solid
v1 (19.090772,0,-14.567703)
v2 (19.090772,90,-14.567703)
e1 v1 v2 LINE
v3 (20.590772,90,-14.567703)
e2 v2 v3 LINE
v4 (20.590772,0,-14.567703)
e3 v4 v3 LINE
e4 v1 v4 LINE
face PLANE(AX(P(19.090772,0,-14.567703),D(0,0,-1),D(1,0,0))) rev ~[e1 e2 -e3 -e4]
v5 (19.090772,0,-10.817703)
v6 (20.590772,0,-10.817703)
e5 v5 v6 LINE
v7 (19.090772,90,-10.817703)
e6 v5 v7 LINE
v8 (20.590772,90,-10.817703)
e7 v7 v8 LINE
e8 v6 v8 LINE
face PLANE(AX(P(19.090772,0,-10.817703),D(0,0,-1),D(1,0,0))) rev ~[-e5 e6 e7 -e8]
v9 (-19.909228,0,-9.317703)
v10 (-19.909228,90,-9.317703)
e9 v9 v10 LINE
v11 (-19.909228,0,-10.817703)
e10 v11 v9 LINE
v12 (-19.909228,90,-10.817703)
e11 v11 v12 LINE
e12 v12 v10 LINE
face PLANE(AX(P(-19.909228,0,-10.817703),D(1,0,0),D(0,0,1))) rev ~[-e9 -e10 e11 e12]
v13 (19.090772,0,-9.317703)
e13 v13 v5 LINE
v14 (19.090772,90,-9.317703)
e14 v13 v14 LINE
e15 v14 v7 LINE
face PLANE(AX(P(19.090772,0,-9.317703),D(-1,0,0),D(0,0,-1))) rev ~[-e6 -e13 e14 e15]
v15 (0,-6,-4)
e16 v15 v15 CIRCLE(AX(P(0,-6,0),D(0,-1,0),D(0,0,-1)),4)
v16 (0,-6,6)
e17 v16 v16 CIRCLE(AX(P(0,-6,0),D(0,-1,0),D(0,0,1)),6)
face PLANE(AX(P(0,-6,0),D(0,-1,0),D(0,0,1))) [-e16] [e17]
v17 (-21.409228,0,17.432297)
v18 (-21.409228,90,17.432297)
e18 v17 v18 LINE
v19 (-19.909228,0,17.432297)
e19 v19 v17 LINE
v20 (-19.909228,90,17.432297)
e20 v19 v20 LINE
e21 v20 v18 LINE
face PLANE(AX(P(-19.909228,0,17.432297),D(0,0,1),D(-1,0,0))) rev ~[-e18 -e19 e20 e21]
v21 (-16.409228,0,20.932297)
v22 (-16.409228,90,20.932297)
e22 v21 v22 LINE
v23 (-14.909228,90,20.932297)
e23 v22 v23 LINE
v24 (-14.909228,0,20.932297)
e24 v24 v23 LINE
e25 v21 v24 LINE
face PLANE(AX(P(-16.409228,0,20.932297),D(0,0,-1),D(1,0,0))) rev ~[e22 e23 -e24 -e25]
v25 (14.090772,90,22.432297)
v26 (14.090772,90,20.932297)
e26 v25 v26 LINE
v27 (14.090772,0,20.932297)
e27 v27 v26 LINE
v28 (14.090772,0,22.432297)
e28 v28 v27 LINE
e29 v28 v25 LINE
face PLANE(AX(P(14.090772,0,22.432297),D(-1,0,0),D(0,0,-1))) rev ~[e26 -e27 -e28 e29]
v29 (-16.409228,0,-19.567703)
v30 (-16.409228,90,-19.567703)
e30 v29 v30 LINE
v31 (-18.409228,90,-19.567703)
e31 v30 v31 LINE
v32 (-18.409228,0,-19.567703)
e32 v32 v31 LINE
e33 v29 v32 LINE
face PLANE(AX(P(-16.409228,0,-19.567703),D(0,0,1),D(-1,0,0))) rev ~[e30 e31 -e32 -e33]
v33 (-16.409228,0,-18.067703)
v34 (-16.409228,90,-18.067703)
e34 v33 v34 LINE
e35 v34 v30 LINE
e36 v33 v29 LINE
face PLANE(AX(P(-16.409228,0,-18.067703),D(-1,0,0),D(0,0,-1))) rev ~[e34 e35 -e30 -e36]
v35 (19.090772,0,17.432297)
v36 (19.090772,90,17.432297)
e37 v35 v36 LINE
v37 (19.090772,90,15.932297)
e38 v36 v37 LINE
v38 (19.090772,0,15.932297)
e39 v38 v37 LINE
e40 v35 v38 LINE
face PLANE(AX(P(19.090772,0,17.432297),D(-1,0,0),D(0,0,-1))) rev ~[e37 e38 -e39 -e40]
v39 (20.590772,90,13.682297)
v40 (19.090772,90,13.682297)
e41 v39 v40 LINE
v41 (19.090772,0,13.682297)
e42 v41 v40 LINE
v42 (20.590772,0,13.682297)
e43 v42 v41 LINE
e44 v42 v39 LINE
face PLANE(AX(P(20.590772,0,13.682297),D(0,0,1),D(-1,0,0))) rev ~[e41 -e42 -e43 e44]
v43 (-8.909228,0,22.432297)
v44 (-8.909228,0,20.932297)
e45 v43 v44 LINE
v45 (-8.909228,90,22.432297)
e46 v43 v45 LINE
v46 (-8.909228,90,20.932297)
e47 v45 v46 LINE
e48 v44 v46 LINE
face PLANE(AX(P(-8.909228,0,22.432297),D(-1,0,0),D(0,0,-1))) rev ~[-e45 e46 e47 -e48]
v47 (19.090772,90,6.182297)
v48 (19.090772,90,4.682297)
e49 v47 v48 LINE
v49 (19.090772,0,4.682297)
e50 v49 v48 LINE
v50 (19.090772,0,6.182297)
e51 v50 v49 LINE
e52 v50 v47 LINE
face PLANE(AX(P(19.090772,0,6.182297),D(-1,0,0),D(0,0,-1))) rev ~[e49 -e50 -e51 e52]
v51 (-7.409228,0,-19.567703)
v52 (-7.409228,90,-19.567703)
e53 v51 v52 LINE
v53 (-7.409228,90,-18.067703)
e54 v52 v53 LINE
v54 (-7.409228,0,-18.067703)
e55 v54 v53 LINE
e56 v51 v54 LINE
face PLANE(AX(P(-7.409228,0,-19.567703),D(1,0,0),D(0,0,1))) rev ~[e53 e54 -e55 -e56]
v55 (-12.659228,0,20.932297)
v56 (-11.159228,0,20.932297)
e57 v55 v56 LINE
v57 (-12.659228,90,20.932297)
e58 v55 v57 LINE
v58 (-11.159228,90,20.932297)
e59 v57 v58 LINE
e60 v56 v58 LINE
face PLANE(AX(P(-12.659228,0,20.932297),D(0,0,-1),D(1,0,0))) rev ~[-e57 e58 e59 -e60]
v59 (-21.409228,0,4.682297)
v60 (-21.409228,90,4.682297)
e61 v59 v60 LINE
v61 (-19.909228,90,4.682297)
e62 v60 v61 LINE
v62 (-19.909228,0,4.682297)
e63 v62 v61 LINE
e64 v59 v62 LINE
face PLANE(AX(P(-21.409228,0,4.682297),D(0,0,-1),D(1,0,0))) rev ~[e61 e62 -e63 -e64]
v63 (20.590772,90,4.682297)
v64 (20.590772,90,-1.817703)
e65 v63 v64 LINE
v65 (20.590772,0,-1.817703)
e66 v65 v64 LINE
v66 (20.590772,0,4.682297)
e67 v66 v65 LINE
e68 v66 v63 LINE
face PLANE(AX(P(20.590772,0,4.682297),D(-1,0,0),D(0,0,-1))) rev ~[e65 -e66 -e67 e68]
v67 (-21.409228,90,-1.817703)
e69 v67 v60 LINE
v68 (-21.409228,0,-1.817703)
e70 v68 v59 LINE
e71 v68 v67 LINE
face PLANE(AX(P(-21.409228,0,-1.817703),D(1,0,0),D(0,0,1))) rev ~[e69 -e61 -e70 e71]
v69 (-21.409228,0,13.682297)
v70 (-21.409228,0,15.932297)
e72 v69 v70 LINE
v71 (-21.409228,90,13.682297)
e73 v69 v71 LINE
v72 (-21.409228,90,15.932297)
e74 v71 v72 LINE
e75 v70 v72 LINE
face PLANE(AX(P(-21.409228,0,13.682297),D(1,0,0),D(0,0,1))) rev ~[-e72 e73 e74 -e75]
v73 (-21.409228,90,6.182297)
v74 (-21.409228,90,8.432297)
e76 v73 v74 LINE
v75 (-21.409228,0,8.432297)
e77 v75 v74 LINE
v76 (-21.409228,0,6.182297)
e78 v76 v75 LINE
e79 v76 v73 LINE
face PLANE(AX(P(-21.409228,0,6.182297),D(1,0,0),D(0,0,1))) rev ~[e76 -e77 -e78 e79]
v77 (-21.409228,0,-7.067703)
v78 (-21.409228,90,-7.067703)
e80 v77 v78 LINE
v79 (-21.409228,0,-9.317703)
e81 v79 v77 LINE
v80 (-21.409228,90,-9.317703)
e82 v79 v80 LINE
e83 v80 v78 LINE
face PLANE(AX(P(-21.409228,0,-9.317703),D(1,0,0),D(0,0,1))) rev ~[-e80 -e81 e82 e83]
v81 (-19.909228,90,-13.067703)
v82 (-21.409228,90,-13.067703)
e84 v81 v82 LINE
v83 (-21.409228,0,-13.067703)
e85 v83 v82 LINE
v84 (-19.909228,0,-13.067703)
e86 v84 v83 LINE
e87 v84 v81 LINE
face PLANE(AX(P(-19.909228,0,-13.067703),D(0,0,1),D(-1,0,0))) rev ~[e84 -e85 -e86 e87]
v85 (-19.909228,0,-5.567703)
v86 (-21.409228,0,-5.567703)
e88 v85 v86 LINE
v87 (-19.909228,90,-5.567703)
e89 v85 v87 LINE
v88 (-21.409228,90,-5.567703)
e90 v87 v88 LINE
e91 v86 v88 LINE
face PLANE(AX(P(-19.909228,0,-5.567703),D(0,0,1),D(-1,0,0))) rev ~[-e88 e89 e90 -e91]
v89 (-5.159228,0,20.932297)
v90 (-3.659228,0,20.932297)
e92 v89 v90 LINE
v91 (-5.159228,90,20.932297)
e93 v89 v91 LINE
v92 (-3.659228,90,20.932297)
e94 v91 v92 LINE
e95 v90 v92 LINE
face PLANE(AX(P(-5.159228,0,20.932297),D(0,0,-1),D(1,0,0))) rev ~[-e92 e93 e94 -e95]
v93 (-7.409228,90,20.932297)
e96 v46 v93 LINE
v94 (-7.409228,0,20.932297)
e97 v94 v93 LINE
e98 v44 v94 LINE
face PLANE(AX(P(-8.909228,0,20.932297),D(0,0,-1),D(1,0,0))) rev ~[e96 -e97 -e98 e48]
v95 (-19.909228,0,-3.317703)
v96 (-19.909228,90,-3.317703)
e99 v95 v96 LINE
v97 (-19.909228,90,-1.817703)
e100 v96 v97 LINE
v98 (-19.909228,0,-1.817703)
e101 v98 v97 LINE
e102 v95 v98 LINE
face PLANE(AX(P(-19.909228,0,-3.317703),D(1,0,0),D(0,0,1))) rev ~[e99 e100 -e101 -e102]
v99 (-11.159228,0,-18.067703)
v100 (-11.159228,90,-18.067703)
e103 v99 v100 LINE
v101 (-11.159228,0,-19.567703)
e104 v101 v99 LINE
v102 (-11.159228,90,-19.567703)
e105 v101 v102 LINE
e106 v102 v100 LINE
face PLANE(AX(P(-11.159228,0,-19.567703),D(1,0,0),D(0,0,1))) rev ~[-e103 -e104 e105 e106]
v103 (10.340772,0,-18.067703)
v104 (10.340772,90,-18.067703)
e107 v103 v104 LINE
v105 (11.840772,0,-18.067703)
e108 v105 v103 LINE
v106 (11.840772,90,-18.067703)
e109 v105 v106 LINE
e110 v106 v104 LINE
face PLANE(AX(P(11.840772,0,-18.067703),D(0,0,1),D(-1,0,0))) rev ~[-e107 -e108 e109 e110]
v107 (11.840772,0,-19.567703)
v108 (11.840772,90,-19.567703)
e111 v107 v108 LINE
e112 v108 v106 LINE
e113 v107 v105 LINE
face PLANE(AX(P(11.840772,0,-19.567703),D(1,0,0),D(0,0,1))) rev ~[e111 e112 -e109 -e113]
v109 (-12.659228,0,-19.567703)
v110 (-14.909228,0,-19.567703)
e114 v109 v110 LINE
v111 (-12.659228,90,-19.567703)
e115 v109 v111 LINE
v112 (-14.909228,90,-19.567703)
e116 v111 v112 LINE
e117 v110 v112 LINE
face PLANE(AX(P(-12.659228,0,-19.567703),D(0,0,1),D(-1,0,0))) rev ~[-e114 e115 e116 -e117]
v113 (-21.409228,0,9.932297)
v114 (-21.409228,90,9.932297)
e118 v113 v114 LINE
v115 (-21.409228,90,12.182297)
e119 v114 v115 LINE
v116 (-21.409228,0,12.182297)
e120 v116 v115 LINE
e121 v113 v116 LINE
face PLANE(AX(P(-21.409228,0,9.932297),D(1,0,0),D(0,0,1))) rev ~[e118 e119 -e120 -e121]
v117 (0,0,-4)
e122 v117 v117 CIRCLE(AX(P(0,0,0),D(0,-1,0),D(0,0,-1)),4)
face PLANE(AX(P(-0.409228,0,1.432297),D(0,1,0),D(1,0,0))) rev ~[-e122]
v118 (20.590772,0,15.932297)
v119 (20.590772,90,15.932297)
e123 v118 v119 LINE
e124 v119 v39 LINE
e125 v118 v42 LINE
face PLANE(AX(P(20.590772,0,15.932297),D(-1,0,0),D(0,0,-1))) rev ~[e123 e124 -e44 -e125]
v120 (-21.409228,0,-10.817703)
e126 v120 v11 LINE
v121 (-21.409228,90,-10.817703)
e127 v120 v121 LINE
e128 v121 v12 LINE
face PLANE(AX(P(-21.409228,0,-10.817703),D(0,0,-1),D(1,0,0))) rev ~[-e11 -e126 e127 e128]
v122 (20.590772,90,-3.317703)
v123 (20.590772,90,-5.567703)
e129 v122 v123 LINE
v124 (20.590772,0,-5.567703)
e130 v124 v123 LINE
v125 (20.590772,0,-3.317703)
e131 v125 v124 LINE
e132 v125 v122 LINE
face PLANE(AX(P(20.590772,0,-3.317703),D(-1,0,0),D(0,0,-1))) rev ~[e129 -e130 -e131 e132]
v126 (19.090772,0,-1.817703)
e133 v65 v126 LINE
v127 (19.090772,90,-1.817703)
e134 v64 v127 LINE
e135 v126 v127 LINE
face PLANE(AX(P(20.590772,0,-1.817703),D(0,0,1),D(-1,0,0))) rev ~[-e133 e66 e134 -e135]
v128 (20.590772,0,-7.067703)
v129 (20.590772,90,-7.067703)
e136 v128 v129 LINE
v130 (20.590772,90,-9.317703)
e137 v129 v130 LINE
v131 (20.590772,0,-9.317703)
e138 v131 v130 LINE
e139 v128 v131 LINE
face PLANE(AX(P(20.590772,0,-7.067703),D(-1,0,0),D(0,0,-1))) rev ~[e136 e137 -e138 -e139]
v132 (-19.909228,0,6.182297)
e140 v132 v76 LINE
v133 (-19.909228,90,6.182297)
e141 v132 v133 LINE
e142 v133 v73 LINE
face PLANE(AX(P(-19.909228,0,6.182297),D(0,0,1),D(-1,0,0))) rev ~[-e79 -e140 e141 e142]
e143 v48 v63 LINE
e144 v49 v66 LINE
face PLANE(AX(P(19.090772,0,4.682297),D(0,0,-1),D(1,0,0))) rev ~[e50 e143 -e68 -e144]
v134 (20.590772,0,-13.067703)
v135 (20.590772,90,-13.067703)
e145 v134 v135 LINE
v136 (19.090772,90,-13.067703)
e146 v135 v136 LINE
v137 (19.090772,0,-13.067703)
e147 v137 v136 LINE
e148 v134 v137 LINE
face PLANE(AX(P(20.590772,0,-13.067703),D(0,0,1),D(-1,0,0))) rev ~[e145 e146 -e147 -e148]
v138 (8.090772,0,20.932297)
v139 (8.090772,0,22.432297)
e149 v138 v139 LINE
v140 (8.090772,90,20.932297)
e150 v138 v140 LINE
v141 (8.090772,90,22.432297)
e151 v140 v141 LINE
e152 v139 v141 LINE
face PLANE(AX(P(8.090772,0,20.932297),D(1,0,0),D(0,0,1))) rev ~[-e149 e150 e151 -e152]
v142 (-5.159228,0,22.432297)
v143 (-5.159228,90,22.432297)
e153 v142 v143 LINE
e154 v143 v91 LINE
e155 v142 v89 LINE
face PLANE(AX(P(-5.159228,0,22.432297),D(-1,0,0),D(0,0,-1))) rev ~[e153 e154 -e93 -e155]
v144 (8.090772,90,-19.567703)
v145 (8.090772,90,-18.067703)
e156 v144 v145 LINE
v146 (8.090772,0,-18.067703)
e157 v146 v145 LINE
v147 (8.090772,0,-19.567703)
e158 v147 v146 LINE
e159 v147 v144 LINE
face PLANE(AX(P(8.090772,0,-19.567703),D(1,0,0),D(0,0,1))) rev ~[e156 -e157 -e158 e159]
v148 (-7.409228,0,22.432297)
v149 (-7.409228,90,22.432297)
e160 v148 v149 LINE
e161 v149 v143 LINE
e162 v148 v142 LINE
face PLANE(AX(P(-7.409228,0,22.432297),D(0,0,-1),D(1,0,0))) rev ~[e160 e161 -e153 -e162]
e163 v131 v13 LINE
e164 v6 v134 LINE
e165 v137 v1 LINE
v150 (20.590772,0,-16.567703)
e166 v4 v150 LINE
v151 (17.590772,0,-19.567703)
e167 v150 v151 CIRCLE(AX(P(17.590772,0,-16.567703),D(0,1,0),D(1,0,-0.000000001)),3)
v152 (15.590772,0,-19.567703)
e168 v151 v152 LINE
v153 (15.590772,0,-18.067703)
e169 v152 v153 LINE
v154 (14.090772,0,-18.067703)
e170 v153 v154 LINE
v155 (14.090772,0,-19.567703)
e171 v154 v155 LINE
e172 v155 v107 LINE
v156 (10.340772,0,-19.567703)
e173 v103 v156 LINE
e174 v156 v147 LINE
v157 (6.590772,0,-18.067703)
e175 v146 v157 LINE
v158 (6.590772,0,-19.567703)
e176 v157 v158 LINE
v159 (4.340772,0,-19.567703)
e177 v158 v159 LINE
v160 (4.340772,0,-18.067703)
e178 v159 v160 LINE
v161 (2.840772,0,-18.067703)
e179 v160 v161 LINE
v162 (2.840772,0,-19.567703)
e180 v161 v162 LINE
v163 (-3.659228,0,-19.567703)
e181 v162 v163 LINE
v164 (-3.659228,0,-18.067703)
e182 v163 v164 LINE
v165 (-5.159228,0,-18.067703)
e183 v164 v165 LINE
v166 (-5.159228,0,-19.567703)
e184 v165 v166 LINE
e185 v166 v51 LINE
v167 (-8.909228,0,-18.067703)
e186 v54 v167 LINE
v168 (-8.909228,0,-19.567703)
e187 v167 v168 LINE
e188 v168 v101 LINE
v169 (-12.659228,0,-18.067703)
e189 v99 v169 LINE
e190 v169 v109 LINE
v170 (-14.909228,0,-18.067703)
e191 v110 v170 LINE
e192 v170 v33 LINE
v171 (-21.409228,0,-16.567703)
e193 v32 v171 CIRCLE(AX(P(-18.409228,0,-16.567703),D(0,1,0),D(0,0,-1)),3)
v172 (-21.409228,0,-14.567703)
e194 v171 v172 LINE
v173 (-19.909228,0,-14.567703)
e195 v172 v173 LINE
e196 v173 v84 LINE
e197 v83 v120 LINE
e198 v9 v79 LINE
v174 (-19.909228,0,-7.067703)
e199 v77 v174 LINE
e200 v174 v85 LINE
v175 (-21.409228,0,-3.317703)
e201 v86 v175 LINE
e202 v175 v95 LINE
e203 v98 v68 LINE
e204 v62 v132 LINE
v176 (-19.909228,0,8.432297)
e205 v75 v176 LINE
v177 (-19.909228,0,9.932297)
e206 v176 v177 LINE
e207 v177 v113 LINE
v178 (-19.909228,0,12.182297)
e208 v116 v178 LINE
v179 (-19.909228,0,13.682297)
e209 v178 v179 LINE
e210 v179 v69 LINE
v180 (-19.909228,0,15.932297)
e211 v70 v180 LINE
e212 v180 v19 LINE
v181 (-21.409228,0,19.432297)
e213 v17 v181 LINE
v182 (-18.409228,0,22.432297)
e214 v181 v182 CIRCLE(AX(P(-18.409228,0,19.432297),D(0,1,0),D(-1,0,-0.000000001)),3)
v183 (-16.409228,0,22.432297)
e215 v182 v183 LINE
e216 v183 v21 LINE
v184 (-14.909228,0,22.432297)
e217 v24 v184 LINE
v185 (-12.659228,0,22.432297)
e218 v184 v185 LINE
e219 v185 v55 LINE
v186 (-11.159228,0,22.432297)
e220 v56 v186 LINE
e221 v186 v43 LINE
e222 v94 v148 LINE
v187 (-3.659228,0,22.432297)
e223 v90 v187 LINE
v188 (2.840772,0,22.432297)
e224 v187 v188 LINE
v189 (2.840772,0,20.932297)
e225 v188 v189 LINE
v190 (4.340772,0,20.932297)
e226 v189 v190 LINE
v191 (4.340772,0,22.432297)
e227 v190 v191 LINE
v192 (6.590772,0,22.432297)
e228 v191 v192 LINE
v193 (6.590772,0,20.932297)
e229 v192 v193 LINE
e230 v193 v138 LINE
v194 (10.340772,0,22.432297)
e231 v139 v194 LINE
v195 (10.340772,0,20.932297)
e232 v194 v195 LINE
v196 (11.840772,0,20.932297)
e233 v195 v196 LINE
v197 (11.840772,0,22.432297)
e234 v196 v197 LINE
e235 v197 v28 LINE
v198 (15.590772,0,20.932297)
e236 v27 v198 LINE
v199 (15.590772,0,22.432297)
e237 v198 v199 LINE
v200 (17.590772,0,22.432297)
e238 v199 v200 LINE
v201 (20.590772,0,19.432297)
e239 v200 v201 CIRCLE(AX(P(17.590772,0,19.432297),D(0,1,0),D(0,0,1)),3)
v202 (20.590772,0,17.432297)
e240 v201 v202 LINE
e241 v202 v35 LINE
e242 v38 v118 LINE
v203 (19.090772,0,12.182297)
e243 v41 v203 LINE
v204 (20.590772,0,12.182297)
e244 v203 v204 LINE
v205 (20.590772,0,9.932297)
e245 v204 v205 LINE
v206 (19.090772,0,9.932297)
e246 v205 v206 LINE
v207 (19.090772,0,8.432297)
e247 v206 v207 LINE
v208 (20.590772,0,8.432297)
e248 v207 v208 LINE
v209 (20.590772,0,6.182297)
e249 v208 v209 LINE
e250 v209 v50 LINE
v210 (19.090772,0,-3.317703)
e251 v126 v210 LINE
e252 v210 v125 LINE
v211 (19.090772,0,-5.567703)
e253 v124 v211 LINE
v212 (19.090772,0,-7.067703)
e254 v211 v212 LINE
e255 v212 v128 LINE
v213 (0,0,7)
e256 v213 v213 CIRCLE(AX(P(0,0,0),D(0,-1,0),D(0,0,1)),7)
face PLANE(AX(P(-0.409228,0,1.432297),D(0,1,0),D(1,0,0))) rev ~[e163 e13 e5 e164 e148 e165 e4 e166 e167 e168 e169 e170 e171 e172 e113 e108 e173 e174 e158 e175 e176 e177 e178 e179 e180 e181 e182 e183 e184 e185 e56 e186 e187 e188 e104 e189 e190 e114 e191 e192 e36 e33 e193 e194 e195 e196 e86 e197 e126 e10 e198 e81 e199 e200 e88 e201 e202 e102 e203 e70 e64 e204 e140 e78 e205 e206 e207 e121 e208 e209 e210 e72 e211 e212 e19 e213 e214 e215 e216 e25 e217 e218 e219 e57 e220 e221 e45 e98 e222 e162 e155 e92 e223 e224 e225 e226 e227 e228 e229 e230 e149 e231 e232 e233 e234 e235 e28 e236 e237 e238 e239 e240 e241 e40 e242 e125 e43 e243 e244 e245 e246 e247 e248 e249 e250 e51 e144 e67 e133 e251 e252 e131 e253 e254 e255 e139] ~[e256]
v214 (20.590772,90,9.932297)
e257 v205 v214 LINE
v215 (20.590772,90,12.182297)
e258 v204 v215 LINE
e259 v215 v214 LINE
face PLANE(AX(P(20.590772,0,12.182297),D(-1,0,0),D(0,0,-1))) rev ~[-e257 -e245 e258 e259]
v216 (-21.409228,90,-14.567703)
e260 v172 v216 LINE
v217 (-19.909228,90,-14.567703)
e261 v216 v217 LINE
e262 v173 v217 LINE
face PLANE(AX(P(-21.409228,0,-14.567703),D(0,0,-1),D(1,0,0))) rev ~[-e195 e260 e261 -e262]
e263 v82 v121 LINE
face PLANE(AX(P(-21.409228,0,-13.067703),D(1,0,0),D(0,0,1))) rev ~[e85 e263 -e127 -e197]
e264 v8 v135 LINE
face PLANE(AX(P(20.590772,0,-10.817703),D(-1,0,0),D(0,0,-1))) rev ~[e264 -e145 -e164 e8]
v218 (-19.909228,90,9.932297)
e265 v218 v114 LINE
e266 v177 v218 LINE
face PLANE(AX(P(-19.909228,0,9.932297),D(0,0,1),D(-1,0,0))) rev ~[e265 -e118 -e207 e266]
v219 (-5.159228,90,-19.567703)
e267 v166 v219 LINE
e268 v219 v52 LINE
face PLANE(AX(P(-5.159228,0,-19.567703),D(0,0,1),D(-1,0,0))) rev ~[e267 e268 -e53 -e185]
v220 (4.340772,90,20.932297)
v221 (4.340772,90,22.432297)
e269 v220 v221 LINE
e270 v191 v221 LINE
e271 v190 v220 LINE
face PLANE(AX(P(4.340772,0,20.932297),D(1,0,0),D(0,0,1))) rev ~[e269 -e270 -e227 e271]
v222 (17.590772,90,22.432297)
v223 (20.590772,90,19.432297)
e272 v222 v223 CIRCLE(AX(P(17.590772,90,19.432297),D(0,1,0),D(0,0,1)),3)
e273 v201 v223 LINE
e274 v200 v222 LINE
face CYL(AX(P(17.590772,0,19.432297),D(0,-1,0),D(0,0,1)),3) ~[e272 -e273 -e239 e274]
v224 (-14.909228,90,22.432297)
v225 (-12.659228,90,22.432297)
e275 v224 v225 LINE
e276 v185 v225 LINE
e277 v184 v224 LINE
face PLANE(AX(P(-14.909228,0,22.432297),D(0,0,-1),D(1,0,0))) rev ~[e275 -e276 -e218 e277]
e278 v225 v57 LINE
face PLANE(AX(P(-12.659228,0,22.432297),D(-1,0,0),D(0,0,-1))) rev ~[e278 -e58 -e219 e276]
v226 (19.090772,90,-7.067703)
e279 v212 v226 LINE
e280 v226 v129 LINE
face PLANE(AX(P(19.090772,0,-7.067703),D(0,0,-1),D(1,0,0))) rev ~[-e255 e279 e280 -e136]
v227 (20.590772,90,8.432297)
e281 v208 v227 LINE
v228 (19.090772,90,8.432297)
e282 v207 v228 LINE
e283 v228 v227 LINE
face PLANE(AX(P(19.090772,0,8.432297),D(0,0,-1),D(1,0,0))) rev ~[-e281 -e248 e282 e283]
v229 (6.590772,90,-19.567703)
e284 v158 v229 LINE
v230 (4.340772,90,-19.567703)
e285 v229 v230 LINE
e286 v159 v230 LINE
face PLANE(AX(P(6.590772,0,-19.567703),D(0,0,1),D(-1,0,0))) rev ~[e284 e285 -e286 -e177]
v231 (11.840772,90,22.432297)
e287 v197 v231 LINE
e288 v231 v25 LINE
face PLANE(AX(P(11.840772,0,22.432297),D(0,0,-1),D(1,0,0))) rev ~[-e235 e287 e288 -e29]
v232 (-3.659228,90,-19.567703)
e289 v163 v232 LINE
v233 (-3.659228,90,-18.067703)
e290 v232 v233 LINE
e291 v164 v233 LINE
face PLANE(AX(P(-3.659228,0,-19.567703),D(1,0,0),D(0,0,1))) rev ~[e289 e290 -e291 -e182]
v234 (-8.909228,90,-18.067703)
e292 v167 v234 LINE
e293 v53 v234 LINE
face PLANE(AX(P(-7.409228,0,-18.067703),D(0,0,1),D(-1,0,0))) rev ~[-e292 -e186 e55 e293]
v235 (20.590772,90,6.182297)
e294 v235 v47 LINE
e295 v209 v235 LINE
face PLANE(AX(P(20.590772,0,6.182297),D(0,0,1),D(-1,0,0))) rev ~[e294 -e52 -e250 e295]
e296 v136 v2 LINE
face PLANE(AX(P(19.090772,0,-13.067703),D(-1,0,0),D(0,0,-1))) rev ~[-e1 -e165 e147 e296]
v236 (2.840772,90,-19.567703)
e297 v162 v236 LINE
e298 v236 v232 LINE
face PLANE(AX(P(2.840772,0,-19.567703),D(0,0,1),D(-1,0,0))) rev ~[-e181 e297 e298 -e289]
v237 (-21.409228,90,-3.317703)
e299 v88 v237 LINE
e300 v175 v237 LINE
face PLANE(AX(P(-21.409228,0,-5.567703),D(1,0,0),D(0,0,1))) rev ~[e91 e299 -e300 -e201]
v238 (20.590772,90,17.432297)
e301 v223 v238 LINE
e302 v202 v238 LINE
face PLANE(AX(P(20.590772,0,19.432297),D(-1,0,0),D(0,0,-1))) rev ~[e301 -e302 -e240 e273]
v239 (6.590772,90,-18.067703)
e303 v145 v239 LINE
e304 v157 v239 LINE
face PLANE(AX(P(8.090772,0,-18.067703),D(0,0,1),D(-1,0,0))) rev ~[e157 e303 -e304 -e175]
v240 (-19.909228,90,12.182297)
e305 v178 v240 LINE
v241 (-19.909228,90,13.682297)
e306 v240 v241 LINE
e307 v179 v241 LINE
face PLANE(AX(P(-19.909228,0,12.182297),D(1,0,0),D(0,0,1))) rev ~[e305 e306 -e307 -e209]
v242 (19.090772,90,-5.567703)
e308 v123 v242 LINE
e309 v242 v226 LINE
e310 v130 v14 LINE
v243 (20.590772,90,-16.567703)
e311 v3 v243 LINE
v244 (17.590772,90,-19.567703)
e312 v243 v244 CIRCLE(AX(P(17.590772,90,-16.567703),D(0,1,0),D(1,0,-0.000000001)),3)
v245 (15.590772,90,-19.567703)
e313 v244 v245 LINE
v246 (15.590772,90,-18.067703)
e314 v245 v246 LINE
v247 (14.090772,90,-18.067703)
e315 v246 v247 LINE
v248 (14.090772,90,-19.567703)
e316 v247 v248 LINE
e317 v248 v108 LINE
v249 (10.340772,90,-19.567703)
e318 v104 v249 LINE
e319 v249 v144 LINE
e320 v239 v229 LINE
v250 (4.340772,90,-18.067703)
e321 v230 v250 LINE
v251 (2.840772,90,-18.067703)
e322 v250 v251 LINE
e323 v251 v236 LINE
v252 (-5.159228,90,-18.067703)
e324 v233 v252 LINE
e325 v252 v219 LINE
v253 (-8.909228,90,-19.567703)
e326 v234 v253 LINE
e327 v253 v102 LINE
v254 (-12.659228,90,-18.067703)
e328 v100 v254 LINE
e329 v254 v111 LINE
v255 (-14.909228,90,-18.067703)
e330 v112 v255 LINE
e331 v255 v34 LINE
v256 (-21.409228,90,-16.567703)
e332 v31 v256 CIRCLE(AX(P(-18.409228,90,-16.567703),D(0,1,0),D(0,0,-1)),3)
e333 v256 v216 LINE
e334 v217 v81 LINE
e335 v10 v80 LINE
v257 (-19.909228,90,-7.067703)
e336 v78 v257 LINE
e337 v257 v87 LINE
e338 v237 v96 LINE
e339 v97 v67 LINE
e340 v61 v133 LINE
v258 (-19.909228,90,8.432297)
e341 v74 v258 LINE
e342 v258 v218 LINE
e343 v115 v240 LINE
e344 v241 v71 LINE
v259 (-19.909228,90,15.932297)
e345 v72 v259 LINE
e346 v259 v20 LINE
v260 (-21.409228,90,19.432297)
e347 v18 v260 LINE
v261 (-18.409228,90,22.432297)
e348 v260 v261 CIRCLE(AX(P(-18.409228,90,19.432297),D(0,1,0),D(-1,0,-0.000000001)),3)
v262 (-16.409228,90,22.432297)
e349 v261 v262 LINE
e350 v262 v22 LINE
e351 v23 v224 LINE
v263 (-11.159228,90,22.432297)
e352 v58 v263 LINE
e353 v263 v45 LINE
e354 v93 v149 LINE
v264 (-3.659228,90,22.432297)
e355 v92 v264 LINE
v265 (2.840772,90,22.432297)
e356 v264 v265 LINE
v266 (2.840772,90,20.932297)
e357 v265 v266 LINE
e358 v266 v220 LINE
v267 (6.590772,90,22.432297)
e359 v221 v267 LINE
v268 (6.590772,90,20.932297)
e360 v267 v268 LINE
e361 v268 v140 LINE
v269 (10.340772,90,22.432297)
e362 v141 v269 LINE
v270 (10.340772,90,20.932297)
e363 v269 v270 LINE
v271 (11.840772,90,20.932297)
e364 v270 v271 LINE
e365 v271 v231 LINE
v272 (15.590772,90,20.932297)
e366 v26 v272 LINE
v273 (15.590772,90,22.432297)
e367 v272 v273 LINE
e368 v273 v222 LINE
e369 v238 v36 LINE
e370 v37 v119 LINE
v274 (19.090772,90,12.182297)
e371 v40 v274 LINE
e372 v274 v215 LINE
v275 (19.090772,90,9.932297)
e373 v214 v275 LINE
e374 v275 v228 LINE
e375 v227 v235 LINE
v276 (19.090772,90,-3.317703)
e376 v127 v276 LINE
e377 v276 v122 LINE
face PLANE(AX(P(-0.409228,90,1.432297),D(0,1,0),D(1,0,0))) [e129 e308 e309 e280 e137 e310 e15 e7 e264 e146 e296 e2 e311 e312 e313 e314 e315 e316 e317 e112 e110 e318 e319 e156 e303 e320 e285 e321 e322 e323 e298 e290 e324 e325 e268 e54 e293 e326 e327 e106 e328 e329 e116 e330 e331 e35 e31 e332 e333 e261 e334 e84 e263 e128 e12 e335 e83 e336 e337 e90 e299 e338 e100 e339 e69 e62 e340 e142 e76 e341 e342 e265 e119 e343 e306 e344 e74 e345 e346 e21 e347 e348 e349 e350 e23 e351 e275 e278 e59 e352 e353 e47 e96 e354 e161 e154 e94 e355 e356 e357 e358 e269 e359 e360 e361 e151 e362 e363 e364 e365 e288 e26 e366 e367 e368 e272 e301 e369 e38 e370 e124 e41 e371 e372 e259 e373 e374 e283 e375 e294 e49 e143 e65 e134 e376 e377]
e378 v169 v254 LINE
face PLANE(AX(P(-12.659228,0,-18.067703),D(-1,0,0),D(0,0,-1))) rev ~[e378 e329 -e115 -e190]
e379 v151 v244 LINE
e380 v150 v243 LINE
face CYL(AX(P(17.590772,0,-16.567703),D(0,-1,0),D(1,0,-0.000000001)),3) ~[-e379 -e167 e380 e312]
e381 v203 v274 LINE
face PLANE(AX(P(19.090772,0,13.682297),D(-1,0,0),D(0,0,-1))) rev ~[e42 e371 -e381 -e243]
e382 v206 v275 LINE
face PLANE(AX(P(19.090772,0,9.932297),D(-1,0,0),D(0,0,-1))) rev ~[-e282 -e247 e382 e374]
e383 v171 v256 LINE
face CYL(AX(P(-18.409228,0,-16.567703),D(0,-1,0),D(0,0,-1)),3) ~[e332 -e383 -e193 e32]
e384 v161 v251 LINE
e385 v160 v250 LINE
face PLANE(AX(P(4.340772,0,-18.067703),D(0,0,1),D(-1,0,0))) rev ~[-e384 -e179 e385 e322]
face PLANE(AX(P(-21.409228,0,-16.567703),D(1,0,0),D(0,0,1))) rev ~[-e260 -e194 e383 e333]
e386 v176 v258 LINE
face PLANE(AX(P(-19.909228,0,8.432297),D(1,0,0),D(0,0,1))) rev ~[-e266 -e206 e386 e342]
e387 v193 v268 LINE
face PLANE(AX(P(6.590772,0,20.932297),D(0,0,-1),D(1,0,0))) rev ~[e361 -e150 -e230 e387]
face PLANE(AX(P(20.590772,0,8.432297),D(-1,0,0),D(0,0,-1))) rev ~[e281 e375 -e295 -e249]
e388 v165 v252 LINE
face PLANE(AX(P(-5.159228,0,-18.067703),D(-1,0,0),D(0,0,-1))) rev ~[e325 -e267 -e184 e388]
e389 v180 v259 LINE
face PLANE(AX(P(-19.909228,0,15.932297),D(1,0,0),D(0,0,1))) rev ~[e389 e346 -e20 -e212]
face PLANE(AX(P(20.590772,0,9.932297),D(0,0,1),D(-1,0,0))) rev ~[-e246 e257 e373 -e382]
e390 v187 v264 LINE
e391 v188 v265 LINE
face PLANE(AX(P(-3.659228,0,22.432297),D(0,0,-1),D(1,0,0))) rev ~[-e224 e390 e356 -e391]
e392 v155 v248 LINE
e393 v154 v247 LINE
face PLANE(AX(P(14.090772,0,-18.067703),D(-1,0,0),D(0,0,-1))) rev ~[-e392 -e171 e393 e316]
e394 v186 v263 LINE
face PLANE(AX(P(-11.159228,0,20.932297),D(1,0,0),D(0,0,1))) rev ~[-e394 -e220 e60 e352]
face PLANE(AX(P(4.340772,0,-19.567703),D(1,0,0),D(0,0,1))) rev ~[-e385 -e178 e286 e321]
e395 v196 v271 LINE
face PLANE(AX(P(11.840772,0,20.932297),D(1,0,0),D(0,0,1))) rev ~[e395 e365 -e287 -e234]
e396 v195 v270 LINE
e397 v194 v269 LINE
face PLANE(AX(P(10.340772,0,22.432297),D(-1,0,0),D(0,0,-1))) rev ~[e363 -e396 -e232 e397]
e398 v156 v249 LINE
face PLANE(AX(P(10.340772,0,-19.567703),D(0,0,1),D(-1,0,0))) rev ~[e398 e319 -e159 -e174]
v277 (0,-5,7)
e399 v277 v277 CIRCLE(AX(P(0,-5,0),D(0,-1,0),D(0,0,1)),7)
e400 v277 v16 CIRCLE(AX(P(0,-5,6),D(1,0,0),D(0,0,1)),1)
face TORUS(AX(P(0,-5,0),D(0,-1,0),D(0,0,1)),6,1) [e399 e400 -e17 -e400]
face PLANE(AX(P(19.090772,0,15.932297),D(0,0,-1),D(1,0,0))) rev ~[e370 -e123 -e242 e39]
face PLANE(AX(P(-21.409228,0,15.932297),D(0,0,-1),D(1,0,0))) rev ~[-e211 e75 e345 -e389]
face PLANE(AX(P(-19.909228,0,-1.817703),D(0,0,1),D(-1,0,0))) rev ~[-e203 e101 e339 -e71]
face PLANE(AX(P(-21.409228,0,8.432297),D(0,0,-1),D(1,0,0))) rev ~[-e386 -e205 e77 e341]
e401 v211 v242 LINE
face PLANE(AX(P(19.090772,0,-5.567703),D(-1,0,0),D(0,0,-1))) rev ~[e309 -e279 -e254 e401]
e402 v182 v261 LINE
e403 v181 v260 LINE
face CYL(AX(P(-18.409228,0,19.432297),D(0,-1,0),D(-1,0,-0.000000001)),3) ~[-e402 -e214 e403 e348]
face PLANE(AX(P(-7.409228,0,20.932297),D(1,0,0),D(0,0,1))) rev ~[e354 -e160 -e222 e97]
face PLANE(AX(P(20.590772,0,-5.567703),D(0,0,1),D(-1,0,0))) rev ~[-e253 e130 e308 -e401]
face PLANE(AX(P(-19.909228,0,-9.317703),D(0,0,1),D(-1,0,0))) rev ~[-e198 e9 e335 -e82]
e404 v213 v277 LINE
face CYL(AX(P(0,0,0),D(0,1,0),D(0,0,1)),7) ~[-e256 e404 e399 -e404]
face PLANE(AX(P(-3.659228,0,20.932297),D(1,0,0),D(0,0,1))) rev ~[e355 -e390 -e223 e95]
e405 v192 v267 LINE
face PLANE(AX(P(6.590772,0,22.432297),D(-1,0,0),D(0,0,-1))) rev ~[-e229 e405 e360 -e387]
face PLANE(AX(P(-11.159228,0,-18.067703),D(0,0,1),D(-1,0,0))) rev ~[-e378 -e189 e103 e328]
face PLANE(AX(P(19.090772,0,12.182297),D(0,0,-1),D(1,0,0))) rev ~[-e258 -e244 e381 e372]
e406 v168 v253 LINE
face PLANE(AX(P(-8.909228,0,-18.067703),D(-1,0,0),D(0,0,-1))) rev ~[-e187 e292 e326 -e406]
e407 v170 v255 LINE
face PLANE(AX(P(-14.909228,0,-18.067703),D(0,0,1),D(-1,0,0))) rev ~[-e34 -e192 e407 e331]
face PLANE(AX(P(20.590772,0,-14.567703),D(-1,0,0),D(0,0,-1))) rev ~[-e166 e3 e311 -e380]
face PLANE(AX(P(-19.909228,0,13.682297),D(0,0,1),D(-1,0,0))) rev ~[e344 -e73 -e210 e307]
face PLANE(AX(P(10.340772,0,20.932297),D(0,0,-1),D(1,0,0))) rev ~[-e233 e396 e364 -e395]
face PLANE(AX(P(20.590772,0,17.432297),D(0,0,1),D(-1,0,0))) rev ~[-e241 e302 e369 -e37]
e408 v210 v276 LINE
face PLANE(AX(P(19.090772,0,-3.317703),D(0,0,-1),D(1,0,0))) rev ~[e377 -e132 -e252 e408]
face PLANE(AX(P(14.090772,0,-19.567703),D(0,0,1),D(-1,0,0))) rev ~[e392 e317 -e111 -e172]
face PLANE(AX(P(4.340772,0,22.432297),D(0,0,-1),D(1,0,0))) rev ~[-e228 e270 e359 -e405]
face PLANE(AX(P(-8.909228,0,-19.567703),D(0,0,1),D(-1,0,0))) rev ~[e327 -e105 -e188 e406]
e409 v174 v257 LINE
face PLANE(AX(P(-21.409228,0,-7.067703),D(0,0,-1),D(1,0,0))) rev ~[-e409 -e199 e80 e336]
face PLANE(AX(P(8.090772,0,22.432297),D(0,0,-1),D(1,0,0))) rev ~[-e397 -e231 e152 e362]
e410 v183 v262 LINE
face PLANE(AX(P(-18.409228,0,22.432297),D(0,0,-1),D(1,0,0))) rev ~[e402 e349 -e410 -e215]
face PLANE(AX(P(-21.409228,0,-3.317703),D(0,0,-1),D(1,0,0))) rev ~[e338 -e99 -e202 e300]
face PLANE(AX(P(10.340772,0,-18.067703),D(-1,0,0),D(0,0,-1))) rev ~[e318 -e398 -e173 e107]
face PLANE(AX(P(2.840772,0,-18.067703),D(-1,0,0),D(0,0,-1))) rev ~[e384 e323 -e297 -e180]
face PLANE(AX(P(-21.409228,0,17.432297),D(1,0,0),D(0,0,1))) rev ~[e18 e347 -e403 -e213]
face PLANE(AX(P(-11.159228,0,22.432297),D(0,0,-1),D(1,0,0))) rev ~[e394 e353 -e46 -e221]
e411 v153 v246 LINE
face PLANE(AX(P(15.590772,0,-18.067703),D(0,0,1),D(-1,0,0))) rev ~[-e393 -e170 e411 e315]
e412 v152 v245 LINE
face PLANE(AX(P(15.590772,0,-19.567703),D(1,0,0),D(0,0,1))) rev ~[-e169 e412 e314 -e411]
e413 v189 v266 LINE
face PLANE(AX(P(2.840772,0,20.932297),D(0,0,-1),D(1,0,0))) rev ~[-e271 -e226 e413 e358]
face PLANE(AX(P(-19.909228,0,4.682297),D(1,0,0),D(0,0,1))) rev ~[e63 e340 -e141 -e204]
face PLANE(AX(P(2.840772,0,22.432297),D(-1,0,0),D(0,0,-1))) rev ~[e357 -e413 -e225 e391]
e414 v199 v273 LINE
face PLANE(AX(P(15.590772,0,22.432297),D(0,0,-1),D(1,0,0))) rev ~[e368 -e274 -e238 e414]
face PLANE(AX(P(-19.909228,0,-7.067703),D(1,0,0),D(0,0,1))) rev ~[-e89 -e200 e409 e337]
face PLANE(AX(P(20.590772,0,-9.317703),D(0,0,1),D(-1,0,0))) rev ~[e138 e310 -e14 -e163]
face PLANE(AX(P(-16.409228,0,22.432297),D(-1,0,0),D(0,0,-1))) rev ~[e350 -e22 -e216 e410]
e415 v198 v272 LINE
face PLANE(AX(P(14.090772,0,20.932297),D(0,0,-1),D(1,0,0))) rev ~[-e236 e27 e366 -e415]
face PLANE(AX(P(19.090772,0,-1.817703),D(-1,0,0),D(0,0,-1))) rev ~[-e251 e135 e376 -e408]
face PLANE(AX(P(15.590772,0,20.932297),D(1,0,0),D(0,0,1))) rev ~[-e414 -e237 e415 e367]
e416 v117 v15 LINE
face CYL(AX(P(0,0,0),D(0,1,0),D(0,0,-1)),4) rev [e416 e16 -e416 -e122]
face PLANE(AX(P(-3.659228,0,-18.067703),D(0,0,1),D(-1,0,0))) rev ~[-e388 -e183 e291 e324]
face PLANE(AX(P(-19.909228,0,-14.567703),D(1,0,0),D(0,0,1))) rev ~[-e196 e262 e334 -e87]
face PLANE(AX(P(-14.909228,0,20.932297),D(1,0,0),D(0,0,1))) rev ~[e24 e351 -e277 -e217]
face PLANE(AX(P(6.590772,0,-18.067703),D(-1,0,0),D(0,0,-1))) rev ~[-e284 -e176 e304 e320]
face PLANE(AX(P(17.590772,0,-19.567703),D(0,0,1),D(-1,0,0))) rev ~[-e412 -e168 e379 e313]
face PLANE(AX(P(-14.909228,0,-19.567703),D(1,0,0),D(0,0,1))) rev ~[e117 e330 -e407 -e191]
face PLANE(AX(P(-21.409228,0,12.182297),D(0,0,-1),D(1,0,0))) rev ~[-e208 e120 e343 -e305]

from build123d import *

# Parameters (mm, degrees)
BOSS_EXTRU_1_DEPTH = 90
ESQUISSE2_R        = 7
ESQUISSE2_R_2      = 4
BOSS_EXTRU_2_DEPTH = 6
CONG_1_R           = 1


with BuildPart() as part:
    # Esquisse1 → Boss.-Extru.1 (new body)
    with BuildSketch(Plane(origin=(0, 0, 0), x_dir=(1, 0, 0), z_dir=(0, 1, 0))):
        with BuildLine():
            Line((-19.909227763, -17.432297172), (-21.409227763, -17.432297172))
            Line((-21.409227763, -17.432297172), (-21.409227763, -19.432297172))
            ThreePointArc((-21.409227763, -19.432297172), (-20.530548107, -21.553617516), (-18.409227763, -22.432297172))
            Line((-18.409227763, -22.432297172), (-16.409227763, -22.432297172))
            Line((-16.409227763, -22.432297172), (-16.409227763, -20.932297172))
            Line((-16.409227763, -20.932297172), (-14.909227763, -20.932297172))
            Line((-14.909227763, -20.932297172), (-14.909227763, -22.432297172))
            Line((-14.909227763, -22.432297172), (-12.659227763, -22.432297172))
            Line((-12.659227763, -22.432297172), (-12.659227763, -20.932297172))
            Line((-12.659227763, -20.932297172), (-11.159227763, -20.932297172))
            Line((-11.159227763, -20.932297172), (-11.159227763, -22.432297172))
            Line((-11.159227763, -22.432297172), (-8.909227763, -22.432297172))
            Line((-8.909227763, -22.432297172), (-8.909227763, -20.932297172))
            Line((-8.909227763, -20.932297172), (-7.409227763, -20.932297172))
            Line((-7.409227763, -20.932297172), (-7.409227763, -22.432297172))
            Line((-7.409227763, -22.432297172), (-5.159227763, -22.432297172))
            Line((-5.159227763, -22.432297172), (-5.159227763, -20.932297172))
            Line((-5.159227763, -20.932297172), (-3.659227763, -20.932297172))
            Line((-3.659227763, -20.932297172), (-3.659227763, -22.432297172))
            Line((-3.659227763, -22.432297172), (2.840772237, -22.432297172))
            Line((2.840772237, -22.432297172), (2.840772237, -20.932297172))
            Line((2.840772237, -20.932297172), (4.340772237, -20.932297172))
            Line((4.340772237, -20.932297172), (4.340772237, -22.432297172))
            Line((4.340772237, -22.432297172), (6.590772237, -22.432297172))
            Line((6.590772237, -22.432297172), (6.590772237, -20.932297172))
            Line((6.590772237, -20.932297172), (8.090772237, -20.932297172))
            Line((8.090772237, -20.932297172), (8.090772237, -22.432297172))
            Line((8.090772237, -22.432297172), (10.340772237, -22.432297172))
            Line((10.340772237, -22.432297172), (10.340772237, -20.932297172))
            Line((10.340772237, -20.932297172), (11.840772237, -20.932297172))
            Line((11.840772237, -20.932297172), (11.840772237, -22.432297172))
            Line((11.840772237, -22.432297172), (14.090772237, -22.432297172))
            Line((14.090772237, -22.432297172), (14.090772237, -20.932297172))
            Line((14.090772237, -20.932297172), (15.590772237, -20.932297172))
            Line((15.590772237, -20.932297172), (15.590772237, -22.432297172))
            Line((15.590772237, -22.432297172), (17.590772237, -22.432297172))
            ThreePointArc((17.590772237, -22.432297172), (19.71209258, -21.553617516), (20.590772237, -19.432297172))
            Line((20.590772237, -19.432297172), (20.590772237, -17.432297172))
            Line((20.590772237, -17.432297172), (19.090772237, -17.432297172))
            Line((19.090772237, -17.432297172), (19.090772237, -15.932297172))
            Line((19.090772237, -15.932297172), (20.590772237, -15.932297172))
            Line((20.590772237, -15.932297172), (20.590772237, -13.682297172))
            Line((20.590772237, -13.682297172), (19.090772237, -13.682297172))
            Line((19.090772237, -13.682297172), (19.090772237, -12.182297172))
            Line((19.090772237, -12.182297172), (20.590772237, -12.182297172))
            Line((20.590772237, -12.182297172), (20.590772237, -9.932297172))
            Line((20.590772237, -9.932297172), (19.090772237, -9.932297172))
            Line((19.090772237, -9.932297172), (19.090772237, -8.432297172))
            Line((19.090772237, -8.432297172), (20.590772237, -8.432297172))
            Line((20.590772237, -8.432297172), (20.590772237, -6.182297172))
            Line((20.590772237, -6.182297172), (19.090772237, -6.182297172))
            Line((19.090772237, -6.182297172), (19.090772237, -4.682297172))
            Line((19.090772237, -4.682297172), (20.590772237, -4.682297172))
            Line((20.590772237, -4.682297172), (20.590772237, 1.817702828))
            Line((20.590772237, 1.817702828), (19.090772237, 1.817702828))
            Line((19.090772237, 1.817702828), (19.090772237, 3.317702828))
            Line((19.090772237, 3.317702828), (20.590772237, 3.317702828))
            Line((20.590772237, 3.317702828), (20.590772237, 5.567702828))
            Line((20.590772237, 5.567702828), (19.090772237, 5.567702828))
            Line((19.090772237, 5.567702828), (19.090772237, 7.067702828))
            Line((19.090772237, 7.067702828), (20.590772237, 7.067702828))
            Line((20.590772237, 7.067702828), (20.590772237, 9.317702828))
            Line((20.590772237, 9.317702828), (19.090772237, 9.317702828))
            Line((19.090772237, 9.317702828), (19.090772237, 10.817702828))
            Line((19.090772237, 10.817702828), (20.590772237, 10.817702828))
            Line((20.590772237, 10.817702828), (20.590772237, 13.067702828))
            Line((20.590772237, 13.067702828), (19.090772237, 13.067702828))
            Line((19.090772237, 13.067702828), (19.090772237, 14.567702828))
            Line((19.090772237, 14.567702828), (20.590772237, 14.567702828))
            Line((20.590772237, 14.567702828), (20.590772237, 16.567702828))
            ThreePointArc((20.590772237, 16.567702828), (19.71209258, 18.689023171), (17.590772237, 19.567702828))
            Line((17.590772237, 19.567702828), (15.590772237, 19.567702828))
            Line((15.590772237, 19.567702828), (15.590772237, 18.067702828))
            Line((15.590772237, 18.067702828), (14.090772237, 18.067702828))
            Line((14.090772237, 18.067702828), (14.090772237, 19.567702828))
            Line((14.090772237, 19.567702828), (11.840772237, 19.567702828))
            Line((11.840772237, 19.567702828), (11.840772237, 18.067702828))
            Line((11.840772237, 18.067702828), (10.340772237, 18.067702828))
            Line((10.340772237, 18.067702828), (10.340772237, 19.567702828))
            Line((10.340772237, 19.567702828), (8.090772237, 19.567702828))
            Line((8.090772237, 19.567702828), (8.090772237, 18.067702828))
            Line((8.090772237, 18.067702828), (6.590772237, 18.067702828))
            Line((6.590772237, 18.067702828), (6.590772237, 19.567702828))
            Line((6.590772237, 19.567702828), (4.340772237, 19.567702828))
            Line((4.340772237, 19.567702828), (4.340772237, 18.067702828))
            Line((4.340772237, 18.067702828), (2.840772237, 18.067702828))
            Line((2.840772237, 18.067702828), (2.840772237, 19.567702828))
            Line((2.840772237, 19.567702828), (-3.659227763, 19.567702828))
            Line((-3.659227763, 19.567702828), (-3.659227763, 18.067702828))
            Line((-3.659227763, 18.067702828), (-5.159227763, 18.067702828))
            Line((-5.159227763, 18.067702828), (-5.159227763, 19.567702828))
            Line((-5.159227763, 19.567702828), (-7.409227763, 19.567702828))
            Line((-7.409227763, 19.567702828), (-7.409227763, 18.067702828))
            Line((-7.409227763, 18.067702828), (-8.909227763, 18.067702828))
            Line((-8.909227763, 18.067702828), (-8.909227763, 19.567702828))
            Line((-8.909227763, 19.567702828), (-11.159227763, 19.567702828))
            Line((-11.159227763, 19.567702828), (-11.159227763, 18.067702828))
            Line((-11.159227763, 18.067702828), (-12.659227763, 18.067702828))
            Line((-12.659227763, 18.067702828), (-12.659227763, 19.567702828))
            Line((-12.659227763, 19.567702828), (-14.909227763, 19.567702828))
            Line((-14.909227763, 19.567702828), (-14.909227763, 18.067702828))
            Line((-14.909227763, 18.067702828), (-16.409227763, 18.067702828))
            Line((-16.409227763, 18.067702828), (-16.409227763, 19.567702828))
            Line((-16.409227763, 19.567702828), (-18.409227763, 19.567702828))
            ThreePointArc((-18.409227763, 19.567702828), (-20.530548107, 18.689023171), (-21.409227763, 16.567702828))
            Line((-21.409227763, 16.567702828), (-21.409227763, 14.567702828))
            Line((-21.409227763, 14.567702828), (-19.909227763, 14.567702828))
            Line((-19.909227763, 14.567702828), (-19.909227763, 13.067702828))
            Line((-19.909227763, 13.067702828), (-21.409227763, 13.067702828))
            Line((-21.409227763, 13.067702828), (-21.409227763, 10.817702828))
            Line((-21.409227763, 10.817702828), (-19.909227763, 10.817702828))
            Line((-19.909227763, 10.817702828), (-19.909227763, 9.317702828))
            Line((-19.909227763, 9.317702828), (-21.409227763, 9.317702828))
            Line((-21.409227763, 9.317702828), (-21.409227763, 7.067702828))
            Line((-21.409227763, 7.067702828), (-19.909227763, 7.067702828))
            Line((-19.909227763, 7.067702828), (-19.909227763, 5.567702828))
            Line((-19.909227763, 5.567702828), (-21.409227763, 5.567702828))
            Line((-21.409227763, 5.567702828), (-21.409227763, 3.317702828))
            Line((-21.409227763, 3.317702828), (-19.909227763, 3.317702828))
            Line((-19.909227763, 3.317702828), (-19.909227763, 1.817702828))
            Line((-19.909227763, 1.817702828), (-21.409227763, 1.817702828))
            Line((-21.409227763, 1.817702828), (-21.409227763, -4.682297172))
            Line((-21.409227763, -4.682297172), (-19.909227763, -4.682297172))
            Line((-19.909227763, -4.682297172), (-19.909227763, -6.182297172))
            Line((-19.909227763, -6.182297172), (-21.409227763, -6.182297172))
            Line((-21.409227763, -6.182297172), (-21.409227763, -8.432297172))
            Line((-21.409227763, -8.432297172), (-19.909227763, -8.432297172))
            Line((-19.909227763, -8.432297172), (-19.909227763, -9.932297172))
            Line((-19.909227763, -9.932297172), (-21.409227763, -9.932297172))
            Line((-21.409227763, -9.932297172), (-21.409227763, -12.182297172))
            Line((-21.409227763, -12.182297172), (-19.909227763, -12.182297172))
            Line((-19.909227763, -12.182297172), (-19.909227763, -13.682297172))
            Line((-19.909227763, -13.682297172), (-21.409227763, -13.682297172))
            Line((-21.409227763, -13.682297172), (-21.409227763, -15.932297172))
            Line((-21.409227763, -15.932297172), (-19.909227763, -15.932297172))
            Line((-19.909227763, -15.932297172), (-19.909227763, -17.432297172))
        make_face()
    extrude(amount=BOSS_EXTRU_1_DEPTH)

    # Esquisse2 → Boss.-Extru.2 (add)
    with BuildSketch(Plane.XZ):
        with Locations(Location((0, 0, 0), (0, 0, 90))):
            Circle(ESQUISSE2_R)
        with Locations(Location((0, 0, 0), (0, 0, 270))):
            Circle(ESQUISSE2_R_2, mode=Mode.SUBTRACT)
    extrude(amount=BOSS_EXTRU_2_DEPTH)

    # Congé1
    cong_1_edges = [part.edges().sort_by_distance(p)[0] for p in [
        (0, -6, -7),
    ]]
    fillet(cong_1_edges, radius=CONG_1_R)


solid = part.part
